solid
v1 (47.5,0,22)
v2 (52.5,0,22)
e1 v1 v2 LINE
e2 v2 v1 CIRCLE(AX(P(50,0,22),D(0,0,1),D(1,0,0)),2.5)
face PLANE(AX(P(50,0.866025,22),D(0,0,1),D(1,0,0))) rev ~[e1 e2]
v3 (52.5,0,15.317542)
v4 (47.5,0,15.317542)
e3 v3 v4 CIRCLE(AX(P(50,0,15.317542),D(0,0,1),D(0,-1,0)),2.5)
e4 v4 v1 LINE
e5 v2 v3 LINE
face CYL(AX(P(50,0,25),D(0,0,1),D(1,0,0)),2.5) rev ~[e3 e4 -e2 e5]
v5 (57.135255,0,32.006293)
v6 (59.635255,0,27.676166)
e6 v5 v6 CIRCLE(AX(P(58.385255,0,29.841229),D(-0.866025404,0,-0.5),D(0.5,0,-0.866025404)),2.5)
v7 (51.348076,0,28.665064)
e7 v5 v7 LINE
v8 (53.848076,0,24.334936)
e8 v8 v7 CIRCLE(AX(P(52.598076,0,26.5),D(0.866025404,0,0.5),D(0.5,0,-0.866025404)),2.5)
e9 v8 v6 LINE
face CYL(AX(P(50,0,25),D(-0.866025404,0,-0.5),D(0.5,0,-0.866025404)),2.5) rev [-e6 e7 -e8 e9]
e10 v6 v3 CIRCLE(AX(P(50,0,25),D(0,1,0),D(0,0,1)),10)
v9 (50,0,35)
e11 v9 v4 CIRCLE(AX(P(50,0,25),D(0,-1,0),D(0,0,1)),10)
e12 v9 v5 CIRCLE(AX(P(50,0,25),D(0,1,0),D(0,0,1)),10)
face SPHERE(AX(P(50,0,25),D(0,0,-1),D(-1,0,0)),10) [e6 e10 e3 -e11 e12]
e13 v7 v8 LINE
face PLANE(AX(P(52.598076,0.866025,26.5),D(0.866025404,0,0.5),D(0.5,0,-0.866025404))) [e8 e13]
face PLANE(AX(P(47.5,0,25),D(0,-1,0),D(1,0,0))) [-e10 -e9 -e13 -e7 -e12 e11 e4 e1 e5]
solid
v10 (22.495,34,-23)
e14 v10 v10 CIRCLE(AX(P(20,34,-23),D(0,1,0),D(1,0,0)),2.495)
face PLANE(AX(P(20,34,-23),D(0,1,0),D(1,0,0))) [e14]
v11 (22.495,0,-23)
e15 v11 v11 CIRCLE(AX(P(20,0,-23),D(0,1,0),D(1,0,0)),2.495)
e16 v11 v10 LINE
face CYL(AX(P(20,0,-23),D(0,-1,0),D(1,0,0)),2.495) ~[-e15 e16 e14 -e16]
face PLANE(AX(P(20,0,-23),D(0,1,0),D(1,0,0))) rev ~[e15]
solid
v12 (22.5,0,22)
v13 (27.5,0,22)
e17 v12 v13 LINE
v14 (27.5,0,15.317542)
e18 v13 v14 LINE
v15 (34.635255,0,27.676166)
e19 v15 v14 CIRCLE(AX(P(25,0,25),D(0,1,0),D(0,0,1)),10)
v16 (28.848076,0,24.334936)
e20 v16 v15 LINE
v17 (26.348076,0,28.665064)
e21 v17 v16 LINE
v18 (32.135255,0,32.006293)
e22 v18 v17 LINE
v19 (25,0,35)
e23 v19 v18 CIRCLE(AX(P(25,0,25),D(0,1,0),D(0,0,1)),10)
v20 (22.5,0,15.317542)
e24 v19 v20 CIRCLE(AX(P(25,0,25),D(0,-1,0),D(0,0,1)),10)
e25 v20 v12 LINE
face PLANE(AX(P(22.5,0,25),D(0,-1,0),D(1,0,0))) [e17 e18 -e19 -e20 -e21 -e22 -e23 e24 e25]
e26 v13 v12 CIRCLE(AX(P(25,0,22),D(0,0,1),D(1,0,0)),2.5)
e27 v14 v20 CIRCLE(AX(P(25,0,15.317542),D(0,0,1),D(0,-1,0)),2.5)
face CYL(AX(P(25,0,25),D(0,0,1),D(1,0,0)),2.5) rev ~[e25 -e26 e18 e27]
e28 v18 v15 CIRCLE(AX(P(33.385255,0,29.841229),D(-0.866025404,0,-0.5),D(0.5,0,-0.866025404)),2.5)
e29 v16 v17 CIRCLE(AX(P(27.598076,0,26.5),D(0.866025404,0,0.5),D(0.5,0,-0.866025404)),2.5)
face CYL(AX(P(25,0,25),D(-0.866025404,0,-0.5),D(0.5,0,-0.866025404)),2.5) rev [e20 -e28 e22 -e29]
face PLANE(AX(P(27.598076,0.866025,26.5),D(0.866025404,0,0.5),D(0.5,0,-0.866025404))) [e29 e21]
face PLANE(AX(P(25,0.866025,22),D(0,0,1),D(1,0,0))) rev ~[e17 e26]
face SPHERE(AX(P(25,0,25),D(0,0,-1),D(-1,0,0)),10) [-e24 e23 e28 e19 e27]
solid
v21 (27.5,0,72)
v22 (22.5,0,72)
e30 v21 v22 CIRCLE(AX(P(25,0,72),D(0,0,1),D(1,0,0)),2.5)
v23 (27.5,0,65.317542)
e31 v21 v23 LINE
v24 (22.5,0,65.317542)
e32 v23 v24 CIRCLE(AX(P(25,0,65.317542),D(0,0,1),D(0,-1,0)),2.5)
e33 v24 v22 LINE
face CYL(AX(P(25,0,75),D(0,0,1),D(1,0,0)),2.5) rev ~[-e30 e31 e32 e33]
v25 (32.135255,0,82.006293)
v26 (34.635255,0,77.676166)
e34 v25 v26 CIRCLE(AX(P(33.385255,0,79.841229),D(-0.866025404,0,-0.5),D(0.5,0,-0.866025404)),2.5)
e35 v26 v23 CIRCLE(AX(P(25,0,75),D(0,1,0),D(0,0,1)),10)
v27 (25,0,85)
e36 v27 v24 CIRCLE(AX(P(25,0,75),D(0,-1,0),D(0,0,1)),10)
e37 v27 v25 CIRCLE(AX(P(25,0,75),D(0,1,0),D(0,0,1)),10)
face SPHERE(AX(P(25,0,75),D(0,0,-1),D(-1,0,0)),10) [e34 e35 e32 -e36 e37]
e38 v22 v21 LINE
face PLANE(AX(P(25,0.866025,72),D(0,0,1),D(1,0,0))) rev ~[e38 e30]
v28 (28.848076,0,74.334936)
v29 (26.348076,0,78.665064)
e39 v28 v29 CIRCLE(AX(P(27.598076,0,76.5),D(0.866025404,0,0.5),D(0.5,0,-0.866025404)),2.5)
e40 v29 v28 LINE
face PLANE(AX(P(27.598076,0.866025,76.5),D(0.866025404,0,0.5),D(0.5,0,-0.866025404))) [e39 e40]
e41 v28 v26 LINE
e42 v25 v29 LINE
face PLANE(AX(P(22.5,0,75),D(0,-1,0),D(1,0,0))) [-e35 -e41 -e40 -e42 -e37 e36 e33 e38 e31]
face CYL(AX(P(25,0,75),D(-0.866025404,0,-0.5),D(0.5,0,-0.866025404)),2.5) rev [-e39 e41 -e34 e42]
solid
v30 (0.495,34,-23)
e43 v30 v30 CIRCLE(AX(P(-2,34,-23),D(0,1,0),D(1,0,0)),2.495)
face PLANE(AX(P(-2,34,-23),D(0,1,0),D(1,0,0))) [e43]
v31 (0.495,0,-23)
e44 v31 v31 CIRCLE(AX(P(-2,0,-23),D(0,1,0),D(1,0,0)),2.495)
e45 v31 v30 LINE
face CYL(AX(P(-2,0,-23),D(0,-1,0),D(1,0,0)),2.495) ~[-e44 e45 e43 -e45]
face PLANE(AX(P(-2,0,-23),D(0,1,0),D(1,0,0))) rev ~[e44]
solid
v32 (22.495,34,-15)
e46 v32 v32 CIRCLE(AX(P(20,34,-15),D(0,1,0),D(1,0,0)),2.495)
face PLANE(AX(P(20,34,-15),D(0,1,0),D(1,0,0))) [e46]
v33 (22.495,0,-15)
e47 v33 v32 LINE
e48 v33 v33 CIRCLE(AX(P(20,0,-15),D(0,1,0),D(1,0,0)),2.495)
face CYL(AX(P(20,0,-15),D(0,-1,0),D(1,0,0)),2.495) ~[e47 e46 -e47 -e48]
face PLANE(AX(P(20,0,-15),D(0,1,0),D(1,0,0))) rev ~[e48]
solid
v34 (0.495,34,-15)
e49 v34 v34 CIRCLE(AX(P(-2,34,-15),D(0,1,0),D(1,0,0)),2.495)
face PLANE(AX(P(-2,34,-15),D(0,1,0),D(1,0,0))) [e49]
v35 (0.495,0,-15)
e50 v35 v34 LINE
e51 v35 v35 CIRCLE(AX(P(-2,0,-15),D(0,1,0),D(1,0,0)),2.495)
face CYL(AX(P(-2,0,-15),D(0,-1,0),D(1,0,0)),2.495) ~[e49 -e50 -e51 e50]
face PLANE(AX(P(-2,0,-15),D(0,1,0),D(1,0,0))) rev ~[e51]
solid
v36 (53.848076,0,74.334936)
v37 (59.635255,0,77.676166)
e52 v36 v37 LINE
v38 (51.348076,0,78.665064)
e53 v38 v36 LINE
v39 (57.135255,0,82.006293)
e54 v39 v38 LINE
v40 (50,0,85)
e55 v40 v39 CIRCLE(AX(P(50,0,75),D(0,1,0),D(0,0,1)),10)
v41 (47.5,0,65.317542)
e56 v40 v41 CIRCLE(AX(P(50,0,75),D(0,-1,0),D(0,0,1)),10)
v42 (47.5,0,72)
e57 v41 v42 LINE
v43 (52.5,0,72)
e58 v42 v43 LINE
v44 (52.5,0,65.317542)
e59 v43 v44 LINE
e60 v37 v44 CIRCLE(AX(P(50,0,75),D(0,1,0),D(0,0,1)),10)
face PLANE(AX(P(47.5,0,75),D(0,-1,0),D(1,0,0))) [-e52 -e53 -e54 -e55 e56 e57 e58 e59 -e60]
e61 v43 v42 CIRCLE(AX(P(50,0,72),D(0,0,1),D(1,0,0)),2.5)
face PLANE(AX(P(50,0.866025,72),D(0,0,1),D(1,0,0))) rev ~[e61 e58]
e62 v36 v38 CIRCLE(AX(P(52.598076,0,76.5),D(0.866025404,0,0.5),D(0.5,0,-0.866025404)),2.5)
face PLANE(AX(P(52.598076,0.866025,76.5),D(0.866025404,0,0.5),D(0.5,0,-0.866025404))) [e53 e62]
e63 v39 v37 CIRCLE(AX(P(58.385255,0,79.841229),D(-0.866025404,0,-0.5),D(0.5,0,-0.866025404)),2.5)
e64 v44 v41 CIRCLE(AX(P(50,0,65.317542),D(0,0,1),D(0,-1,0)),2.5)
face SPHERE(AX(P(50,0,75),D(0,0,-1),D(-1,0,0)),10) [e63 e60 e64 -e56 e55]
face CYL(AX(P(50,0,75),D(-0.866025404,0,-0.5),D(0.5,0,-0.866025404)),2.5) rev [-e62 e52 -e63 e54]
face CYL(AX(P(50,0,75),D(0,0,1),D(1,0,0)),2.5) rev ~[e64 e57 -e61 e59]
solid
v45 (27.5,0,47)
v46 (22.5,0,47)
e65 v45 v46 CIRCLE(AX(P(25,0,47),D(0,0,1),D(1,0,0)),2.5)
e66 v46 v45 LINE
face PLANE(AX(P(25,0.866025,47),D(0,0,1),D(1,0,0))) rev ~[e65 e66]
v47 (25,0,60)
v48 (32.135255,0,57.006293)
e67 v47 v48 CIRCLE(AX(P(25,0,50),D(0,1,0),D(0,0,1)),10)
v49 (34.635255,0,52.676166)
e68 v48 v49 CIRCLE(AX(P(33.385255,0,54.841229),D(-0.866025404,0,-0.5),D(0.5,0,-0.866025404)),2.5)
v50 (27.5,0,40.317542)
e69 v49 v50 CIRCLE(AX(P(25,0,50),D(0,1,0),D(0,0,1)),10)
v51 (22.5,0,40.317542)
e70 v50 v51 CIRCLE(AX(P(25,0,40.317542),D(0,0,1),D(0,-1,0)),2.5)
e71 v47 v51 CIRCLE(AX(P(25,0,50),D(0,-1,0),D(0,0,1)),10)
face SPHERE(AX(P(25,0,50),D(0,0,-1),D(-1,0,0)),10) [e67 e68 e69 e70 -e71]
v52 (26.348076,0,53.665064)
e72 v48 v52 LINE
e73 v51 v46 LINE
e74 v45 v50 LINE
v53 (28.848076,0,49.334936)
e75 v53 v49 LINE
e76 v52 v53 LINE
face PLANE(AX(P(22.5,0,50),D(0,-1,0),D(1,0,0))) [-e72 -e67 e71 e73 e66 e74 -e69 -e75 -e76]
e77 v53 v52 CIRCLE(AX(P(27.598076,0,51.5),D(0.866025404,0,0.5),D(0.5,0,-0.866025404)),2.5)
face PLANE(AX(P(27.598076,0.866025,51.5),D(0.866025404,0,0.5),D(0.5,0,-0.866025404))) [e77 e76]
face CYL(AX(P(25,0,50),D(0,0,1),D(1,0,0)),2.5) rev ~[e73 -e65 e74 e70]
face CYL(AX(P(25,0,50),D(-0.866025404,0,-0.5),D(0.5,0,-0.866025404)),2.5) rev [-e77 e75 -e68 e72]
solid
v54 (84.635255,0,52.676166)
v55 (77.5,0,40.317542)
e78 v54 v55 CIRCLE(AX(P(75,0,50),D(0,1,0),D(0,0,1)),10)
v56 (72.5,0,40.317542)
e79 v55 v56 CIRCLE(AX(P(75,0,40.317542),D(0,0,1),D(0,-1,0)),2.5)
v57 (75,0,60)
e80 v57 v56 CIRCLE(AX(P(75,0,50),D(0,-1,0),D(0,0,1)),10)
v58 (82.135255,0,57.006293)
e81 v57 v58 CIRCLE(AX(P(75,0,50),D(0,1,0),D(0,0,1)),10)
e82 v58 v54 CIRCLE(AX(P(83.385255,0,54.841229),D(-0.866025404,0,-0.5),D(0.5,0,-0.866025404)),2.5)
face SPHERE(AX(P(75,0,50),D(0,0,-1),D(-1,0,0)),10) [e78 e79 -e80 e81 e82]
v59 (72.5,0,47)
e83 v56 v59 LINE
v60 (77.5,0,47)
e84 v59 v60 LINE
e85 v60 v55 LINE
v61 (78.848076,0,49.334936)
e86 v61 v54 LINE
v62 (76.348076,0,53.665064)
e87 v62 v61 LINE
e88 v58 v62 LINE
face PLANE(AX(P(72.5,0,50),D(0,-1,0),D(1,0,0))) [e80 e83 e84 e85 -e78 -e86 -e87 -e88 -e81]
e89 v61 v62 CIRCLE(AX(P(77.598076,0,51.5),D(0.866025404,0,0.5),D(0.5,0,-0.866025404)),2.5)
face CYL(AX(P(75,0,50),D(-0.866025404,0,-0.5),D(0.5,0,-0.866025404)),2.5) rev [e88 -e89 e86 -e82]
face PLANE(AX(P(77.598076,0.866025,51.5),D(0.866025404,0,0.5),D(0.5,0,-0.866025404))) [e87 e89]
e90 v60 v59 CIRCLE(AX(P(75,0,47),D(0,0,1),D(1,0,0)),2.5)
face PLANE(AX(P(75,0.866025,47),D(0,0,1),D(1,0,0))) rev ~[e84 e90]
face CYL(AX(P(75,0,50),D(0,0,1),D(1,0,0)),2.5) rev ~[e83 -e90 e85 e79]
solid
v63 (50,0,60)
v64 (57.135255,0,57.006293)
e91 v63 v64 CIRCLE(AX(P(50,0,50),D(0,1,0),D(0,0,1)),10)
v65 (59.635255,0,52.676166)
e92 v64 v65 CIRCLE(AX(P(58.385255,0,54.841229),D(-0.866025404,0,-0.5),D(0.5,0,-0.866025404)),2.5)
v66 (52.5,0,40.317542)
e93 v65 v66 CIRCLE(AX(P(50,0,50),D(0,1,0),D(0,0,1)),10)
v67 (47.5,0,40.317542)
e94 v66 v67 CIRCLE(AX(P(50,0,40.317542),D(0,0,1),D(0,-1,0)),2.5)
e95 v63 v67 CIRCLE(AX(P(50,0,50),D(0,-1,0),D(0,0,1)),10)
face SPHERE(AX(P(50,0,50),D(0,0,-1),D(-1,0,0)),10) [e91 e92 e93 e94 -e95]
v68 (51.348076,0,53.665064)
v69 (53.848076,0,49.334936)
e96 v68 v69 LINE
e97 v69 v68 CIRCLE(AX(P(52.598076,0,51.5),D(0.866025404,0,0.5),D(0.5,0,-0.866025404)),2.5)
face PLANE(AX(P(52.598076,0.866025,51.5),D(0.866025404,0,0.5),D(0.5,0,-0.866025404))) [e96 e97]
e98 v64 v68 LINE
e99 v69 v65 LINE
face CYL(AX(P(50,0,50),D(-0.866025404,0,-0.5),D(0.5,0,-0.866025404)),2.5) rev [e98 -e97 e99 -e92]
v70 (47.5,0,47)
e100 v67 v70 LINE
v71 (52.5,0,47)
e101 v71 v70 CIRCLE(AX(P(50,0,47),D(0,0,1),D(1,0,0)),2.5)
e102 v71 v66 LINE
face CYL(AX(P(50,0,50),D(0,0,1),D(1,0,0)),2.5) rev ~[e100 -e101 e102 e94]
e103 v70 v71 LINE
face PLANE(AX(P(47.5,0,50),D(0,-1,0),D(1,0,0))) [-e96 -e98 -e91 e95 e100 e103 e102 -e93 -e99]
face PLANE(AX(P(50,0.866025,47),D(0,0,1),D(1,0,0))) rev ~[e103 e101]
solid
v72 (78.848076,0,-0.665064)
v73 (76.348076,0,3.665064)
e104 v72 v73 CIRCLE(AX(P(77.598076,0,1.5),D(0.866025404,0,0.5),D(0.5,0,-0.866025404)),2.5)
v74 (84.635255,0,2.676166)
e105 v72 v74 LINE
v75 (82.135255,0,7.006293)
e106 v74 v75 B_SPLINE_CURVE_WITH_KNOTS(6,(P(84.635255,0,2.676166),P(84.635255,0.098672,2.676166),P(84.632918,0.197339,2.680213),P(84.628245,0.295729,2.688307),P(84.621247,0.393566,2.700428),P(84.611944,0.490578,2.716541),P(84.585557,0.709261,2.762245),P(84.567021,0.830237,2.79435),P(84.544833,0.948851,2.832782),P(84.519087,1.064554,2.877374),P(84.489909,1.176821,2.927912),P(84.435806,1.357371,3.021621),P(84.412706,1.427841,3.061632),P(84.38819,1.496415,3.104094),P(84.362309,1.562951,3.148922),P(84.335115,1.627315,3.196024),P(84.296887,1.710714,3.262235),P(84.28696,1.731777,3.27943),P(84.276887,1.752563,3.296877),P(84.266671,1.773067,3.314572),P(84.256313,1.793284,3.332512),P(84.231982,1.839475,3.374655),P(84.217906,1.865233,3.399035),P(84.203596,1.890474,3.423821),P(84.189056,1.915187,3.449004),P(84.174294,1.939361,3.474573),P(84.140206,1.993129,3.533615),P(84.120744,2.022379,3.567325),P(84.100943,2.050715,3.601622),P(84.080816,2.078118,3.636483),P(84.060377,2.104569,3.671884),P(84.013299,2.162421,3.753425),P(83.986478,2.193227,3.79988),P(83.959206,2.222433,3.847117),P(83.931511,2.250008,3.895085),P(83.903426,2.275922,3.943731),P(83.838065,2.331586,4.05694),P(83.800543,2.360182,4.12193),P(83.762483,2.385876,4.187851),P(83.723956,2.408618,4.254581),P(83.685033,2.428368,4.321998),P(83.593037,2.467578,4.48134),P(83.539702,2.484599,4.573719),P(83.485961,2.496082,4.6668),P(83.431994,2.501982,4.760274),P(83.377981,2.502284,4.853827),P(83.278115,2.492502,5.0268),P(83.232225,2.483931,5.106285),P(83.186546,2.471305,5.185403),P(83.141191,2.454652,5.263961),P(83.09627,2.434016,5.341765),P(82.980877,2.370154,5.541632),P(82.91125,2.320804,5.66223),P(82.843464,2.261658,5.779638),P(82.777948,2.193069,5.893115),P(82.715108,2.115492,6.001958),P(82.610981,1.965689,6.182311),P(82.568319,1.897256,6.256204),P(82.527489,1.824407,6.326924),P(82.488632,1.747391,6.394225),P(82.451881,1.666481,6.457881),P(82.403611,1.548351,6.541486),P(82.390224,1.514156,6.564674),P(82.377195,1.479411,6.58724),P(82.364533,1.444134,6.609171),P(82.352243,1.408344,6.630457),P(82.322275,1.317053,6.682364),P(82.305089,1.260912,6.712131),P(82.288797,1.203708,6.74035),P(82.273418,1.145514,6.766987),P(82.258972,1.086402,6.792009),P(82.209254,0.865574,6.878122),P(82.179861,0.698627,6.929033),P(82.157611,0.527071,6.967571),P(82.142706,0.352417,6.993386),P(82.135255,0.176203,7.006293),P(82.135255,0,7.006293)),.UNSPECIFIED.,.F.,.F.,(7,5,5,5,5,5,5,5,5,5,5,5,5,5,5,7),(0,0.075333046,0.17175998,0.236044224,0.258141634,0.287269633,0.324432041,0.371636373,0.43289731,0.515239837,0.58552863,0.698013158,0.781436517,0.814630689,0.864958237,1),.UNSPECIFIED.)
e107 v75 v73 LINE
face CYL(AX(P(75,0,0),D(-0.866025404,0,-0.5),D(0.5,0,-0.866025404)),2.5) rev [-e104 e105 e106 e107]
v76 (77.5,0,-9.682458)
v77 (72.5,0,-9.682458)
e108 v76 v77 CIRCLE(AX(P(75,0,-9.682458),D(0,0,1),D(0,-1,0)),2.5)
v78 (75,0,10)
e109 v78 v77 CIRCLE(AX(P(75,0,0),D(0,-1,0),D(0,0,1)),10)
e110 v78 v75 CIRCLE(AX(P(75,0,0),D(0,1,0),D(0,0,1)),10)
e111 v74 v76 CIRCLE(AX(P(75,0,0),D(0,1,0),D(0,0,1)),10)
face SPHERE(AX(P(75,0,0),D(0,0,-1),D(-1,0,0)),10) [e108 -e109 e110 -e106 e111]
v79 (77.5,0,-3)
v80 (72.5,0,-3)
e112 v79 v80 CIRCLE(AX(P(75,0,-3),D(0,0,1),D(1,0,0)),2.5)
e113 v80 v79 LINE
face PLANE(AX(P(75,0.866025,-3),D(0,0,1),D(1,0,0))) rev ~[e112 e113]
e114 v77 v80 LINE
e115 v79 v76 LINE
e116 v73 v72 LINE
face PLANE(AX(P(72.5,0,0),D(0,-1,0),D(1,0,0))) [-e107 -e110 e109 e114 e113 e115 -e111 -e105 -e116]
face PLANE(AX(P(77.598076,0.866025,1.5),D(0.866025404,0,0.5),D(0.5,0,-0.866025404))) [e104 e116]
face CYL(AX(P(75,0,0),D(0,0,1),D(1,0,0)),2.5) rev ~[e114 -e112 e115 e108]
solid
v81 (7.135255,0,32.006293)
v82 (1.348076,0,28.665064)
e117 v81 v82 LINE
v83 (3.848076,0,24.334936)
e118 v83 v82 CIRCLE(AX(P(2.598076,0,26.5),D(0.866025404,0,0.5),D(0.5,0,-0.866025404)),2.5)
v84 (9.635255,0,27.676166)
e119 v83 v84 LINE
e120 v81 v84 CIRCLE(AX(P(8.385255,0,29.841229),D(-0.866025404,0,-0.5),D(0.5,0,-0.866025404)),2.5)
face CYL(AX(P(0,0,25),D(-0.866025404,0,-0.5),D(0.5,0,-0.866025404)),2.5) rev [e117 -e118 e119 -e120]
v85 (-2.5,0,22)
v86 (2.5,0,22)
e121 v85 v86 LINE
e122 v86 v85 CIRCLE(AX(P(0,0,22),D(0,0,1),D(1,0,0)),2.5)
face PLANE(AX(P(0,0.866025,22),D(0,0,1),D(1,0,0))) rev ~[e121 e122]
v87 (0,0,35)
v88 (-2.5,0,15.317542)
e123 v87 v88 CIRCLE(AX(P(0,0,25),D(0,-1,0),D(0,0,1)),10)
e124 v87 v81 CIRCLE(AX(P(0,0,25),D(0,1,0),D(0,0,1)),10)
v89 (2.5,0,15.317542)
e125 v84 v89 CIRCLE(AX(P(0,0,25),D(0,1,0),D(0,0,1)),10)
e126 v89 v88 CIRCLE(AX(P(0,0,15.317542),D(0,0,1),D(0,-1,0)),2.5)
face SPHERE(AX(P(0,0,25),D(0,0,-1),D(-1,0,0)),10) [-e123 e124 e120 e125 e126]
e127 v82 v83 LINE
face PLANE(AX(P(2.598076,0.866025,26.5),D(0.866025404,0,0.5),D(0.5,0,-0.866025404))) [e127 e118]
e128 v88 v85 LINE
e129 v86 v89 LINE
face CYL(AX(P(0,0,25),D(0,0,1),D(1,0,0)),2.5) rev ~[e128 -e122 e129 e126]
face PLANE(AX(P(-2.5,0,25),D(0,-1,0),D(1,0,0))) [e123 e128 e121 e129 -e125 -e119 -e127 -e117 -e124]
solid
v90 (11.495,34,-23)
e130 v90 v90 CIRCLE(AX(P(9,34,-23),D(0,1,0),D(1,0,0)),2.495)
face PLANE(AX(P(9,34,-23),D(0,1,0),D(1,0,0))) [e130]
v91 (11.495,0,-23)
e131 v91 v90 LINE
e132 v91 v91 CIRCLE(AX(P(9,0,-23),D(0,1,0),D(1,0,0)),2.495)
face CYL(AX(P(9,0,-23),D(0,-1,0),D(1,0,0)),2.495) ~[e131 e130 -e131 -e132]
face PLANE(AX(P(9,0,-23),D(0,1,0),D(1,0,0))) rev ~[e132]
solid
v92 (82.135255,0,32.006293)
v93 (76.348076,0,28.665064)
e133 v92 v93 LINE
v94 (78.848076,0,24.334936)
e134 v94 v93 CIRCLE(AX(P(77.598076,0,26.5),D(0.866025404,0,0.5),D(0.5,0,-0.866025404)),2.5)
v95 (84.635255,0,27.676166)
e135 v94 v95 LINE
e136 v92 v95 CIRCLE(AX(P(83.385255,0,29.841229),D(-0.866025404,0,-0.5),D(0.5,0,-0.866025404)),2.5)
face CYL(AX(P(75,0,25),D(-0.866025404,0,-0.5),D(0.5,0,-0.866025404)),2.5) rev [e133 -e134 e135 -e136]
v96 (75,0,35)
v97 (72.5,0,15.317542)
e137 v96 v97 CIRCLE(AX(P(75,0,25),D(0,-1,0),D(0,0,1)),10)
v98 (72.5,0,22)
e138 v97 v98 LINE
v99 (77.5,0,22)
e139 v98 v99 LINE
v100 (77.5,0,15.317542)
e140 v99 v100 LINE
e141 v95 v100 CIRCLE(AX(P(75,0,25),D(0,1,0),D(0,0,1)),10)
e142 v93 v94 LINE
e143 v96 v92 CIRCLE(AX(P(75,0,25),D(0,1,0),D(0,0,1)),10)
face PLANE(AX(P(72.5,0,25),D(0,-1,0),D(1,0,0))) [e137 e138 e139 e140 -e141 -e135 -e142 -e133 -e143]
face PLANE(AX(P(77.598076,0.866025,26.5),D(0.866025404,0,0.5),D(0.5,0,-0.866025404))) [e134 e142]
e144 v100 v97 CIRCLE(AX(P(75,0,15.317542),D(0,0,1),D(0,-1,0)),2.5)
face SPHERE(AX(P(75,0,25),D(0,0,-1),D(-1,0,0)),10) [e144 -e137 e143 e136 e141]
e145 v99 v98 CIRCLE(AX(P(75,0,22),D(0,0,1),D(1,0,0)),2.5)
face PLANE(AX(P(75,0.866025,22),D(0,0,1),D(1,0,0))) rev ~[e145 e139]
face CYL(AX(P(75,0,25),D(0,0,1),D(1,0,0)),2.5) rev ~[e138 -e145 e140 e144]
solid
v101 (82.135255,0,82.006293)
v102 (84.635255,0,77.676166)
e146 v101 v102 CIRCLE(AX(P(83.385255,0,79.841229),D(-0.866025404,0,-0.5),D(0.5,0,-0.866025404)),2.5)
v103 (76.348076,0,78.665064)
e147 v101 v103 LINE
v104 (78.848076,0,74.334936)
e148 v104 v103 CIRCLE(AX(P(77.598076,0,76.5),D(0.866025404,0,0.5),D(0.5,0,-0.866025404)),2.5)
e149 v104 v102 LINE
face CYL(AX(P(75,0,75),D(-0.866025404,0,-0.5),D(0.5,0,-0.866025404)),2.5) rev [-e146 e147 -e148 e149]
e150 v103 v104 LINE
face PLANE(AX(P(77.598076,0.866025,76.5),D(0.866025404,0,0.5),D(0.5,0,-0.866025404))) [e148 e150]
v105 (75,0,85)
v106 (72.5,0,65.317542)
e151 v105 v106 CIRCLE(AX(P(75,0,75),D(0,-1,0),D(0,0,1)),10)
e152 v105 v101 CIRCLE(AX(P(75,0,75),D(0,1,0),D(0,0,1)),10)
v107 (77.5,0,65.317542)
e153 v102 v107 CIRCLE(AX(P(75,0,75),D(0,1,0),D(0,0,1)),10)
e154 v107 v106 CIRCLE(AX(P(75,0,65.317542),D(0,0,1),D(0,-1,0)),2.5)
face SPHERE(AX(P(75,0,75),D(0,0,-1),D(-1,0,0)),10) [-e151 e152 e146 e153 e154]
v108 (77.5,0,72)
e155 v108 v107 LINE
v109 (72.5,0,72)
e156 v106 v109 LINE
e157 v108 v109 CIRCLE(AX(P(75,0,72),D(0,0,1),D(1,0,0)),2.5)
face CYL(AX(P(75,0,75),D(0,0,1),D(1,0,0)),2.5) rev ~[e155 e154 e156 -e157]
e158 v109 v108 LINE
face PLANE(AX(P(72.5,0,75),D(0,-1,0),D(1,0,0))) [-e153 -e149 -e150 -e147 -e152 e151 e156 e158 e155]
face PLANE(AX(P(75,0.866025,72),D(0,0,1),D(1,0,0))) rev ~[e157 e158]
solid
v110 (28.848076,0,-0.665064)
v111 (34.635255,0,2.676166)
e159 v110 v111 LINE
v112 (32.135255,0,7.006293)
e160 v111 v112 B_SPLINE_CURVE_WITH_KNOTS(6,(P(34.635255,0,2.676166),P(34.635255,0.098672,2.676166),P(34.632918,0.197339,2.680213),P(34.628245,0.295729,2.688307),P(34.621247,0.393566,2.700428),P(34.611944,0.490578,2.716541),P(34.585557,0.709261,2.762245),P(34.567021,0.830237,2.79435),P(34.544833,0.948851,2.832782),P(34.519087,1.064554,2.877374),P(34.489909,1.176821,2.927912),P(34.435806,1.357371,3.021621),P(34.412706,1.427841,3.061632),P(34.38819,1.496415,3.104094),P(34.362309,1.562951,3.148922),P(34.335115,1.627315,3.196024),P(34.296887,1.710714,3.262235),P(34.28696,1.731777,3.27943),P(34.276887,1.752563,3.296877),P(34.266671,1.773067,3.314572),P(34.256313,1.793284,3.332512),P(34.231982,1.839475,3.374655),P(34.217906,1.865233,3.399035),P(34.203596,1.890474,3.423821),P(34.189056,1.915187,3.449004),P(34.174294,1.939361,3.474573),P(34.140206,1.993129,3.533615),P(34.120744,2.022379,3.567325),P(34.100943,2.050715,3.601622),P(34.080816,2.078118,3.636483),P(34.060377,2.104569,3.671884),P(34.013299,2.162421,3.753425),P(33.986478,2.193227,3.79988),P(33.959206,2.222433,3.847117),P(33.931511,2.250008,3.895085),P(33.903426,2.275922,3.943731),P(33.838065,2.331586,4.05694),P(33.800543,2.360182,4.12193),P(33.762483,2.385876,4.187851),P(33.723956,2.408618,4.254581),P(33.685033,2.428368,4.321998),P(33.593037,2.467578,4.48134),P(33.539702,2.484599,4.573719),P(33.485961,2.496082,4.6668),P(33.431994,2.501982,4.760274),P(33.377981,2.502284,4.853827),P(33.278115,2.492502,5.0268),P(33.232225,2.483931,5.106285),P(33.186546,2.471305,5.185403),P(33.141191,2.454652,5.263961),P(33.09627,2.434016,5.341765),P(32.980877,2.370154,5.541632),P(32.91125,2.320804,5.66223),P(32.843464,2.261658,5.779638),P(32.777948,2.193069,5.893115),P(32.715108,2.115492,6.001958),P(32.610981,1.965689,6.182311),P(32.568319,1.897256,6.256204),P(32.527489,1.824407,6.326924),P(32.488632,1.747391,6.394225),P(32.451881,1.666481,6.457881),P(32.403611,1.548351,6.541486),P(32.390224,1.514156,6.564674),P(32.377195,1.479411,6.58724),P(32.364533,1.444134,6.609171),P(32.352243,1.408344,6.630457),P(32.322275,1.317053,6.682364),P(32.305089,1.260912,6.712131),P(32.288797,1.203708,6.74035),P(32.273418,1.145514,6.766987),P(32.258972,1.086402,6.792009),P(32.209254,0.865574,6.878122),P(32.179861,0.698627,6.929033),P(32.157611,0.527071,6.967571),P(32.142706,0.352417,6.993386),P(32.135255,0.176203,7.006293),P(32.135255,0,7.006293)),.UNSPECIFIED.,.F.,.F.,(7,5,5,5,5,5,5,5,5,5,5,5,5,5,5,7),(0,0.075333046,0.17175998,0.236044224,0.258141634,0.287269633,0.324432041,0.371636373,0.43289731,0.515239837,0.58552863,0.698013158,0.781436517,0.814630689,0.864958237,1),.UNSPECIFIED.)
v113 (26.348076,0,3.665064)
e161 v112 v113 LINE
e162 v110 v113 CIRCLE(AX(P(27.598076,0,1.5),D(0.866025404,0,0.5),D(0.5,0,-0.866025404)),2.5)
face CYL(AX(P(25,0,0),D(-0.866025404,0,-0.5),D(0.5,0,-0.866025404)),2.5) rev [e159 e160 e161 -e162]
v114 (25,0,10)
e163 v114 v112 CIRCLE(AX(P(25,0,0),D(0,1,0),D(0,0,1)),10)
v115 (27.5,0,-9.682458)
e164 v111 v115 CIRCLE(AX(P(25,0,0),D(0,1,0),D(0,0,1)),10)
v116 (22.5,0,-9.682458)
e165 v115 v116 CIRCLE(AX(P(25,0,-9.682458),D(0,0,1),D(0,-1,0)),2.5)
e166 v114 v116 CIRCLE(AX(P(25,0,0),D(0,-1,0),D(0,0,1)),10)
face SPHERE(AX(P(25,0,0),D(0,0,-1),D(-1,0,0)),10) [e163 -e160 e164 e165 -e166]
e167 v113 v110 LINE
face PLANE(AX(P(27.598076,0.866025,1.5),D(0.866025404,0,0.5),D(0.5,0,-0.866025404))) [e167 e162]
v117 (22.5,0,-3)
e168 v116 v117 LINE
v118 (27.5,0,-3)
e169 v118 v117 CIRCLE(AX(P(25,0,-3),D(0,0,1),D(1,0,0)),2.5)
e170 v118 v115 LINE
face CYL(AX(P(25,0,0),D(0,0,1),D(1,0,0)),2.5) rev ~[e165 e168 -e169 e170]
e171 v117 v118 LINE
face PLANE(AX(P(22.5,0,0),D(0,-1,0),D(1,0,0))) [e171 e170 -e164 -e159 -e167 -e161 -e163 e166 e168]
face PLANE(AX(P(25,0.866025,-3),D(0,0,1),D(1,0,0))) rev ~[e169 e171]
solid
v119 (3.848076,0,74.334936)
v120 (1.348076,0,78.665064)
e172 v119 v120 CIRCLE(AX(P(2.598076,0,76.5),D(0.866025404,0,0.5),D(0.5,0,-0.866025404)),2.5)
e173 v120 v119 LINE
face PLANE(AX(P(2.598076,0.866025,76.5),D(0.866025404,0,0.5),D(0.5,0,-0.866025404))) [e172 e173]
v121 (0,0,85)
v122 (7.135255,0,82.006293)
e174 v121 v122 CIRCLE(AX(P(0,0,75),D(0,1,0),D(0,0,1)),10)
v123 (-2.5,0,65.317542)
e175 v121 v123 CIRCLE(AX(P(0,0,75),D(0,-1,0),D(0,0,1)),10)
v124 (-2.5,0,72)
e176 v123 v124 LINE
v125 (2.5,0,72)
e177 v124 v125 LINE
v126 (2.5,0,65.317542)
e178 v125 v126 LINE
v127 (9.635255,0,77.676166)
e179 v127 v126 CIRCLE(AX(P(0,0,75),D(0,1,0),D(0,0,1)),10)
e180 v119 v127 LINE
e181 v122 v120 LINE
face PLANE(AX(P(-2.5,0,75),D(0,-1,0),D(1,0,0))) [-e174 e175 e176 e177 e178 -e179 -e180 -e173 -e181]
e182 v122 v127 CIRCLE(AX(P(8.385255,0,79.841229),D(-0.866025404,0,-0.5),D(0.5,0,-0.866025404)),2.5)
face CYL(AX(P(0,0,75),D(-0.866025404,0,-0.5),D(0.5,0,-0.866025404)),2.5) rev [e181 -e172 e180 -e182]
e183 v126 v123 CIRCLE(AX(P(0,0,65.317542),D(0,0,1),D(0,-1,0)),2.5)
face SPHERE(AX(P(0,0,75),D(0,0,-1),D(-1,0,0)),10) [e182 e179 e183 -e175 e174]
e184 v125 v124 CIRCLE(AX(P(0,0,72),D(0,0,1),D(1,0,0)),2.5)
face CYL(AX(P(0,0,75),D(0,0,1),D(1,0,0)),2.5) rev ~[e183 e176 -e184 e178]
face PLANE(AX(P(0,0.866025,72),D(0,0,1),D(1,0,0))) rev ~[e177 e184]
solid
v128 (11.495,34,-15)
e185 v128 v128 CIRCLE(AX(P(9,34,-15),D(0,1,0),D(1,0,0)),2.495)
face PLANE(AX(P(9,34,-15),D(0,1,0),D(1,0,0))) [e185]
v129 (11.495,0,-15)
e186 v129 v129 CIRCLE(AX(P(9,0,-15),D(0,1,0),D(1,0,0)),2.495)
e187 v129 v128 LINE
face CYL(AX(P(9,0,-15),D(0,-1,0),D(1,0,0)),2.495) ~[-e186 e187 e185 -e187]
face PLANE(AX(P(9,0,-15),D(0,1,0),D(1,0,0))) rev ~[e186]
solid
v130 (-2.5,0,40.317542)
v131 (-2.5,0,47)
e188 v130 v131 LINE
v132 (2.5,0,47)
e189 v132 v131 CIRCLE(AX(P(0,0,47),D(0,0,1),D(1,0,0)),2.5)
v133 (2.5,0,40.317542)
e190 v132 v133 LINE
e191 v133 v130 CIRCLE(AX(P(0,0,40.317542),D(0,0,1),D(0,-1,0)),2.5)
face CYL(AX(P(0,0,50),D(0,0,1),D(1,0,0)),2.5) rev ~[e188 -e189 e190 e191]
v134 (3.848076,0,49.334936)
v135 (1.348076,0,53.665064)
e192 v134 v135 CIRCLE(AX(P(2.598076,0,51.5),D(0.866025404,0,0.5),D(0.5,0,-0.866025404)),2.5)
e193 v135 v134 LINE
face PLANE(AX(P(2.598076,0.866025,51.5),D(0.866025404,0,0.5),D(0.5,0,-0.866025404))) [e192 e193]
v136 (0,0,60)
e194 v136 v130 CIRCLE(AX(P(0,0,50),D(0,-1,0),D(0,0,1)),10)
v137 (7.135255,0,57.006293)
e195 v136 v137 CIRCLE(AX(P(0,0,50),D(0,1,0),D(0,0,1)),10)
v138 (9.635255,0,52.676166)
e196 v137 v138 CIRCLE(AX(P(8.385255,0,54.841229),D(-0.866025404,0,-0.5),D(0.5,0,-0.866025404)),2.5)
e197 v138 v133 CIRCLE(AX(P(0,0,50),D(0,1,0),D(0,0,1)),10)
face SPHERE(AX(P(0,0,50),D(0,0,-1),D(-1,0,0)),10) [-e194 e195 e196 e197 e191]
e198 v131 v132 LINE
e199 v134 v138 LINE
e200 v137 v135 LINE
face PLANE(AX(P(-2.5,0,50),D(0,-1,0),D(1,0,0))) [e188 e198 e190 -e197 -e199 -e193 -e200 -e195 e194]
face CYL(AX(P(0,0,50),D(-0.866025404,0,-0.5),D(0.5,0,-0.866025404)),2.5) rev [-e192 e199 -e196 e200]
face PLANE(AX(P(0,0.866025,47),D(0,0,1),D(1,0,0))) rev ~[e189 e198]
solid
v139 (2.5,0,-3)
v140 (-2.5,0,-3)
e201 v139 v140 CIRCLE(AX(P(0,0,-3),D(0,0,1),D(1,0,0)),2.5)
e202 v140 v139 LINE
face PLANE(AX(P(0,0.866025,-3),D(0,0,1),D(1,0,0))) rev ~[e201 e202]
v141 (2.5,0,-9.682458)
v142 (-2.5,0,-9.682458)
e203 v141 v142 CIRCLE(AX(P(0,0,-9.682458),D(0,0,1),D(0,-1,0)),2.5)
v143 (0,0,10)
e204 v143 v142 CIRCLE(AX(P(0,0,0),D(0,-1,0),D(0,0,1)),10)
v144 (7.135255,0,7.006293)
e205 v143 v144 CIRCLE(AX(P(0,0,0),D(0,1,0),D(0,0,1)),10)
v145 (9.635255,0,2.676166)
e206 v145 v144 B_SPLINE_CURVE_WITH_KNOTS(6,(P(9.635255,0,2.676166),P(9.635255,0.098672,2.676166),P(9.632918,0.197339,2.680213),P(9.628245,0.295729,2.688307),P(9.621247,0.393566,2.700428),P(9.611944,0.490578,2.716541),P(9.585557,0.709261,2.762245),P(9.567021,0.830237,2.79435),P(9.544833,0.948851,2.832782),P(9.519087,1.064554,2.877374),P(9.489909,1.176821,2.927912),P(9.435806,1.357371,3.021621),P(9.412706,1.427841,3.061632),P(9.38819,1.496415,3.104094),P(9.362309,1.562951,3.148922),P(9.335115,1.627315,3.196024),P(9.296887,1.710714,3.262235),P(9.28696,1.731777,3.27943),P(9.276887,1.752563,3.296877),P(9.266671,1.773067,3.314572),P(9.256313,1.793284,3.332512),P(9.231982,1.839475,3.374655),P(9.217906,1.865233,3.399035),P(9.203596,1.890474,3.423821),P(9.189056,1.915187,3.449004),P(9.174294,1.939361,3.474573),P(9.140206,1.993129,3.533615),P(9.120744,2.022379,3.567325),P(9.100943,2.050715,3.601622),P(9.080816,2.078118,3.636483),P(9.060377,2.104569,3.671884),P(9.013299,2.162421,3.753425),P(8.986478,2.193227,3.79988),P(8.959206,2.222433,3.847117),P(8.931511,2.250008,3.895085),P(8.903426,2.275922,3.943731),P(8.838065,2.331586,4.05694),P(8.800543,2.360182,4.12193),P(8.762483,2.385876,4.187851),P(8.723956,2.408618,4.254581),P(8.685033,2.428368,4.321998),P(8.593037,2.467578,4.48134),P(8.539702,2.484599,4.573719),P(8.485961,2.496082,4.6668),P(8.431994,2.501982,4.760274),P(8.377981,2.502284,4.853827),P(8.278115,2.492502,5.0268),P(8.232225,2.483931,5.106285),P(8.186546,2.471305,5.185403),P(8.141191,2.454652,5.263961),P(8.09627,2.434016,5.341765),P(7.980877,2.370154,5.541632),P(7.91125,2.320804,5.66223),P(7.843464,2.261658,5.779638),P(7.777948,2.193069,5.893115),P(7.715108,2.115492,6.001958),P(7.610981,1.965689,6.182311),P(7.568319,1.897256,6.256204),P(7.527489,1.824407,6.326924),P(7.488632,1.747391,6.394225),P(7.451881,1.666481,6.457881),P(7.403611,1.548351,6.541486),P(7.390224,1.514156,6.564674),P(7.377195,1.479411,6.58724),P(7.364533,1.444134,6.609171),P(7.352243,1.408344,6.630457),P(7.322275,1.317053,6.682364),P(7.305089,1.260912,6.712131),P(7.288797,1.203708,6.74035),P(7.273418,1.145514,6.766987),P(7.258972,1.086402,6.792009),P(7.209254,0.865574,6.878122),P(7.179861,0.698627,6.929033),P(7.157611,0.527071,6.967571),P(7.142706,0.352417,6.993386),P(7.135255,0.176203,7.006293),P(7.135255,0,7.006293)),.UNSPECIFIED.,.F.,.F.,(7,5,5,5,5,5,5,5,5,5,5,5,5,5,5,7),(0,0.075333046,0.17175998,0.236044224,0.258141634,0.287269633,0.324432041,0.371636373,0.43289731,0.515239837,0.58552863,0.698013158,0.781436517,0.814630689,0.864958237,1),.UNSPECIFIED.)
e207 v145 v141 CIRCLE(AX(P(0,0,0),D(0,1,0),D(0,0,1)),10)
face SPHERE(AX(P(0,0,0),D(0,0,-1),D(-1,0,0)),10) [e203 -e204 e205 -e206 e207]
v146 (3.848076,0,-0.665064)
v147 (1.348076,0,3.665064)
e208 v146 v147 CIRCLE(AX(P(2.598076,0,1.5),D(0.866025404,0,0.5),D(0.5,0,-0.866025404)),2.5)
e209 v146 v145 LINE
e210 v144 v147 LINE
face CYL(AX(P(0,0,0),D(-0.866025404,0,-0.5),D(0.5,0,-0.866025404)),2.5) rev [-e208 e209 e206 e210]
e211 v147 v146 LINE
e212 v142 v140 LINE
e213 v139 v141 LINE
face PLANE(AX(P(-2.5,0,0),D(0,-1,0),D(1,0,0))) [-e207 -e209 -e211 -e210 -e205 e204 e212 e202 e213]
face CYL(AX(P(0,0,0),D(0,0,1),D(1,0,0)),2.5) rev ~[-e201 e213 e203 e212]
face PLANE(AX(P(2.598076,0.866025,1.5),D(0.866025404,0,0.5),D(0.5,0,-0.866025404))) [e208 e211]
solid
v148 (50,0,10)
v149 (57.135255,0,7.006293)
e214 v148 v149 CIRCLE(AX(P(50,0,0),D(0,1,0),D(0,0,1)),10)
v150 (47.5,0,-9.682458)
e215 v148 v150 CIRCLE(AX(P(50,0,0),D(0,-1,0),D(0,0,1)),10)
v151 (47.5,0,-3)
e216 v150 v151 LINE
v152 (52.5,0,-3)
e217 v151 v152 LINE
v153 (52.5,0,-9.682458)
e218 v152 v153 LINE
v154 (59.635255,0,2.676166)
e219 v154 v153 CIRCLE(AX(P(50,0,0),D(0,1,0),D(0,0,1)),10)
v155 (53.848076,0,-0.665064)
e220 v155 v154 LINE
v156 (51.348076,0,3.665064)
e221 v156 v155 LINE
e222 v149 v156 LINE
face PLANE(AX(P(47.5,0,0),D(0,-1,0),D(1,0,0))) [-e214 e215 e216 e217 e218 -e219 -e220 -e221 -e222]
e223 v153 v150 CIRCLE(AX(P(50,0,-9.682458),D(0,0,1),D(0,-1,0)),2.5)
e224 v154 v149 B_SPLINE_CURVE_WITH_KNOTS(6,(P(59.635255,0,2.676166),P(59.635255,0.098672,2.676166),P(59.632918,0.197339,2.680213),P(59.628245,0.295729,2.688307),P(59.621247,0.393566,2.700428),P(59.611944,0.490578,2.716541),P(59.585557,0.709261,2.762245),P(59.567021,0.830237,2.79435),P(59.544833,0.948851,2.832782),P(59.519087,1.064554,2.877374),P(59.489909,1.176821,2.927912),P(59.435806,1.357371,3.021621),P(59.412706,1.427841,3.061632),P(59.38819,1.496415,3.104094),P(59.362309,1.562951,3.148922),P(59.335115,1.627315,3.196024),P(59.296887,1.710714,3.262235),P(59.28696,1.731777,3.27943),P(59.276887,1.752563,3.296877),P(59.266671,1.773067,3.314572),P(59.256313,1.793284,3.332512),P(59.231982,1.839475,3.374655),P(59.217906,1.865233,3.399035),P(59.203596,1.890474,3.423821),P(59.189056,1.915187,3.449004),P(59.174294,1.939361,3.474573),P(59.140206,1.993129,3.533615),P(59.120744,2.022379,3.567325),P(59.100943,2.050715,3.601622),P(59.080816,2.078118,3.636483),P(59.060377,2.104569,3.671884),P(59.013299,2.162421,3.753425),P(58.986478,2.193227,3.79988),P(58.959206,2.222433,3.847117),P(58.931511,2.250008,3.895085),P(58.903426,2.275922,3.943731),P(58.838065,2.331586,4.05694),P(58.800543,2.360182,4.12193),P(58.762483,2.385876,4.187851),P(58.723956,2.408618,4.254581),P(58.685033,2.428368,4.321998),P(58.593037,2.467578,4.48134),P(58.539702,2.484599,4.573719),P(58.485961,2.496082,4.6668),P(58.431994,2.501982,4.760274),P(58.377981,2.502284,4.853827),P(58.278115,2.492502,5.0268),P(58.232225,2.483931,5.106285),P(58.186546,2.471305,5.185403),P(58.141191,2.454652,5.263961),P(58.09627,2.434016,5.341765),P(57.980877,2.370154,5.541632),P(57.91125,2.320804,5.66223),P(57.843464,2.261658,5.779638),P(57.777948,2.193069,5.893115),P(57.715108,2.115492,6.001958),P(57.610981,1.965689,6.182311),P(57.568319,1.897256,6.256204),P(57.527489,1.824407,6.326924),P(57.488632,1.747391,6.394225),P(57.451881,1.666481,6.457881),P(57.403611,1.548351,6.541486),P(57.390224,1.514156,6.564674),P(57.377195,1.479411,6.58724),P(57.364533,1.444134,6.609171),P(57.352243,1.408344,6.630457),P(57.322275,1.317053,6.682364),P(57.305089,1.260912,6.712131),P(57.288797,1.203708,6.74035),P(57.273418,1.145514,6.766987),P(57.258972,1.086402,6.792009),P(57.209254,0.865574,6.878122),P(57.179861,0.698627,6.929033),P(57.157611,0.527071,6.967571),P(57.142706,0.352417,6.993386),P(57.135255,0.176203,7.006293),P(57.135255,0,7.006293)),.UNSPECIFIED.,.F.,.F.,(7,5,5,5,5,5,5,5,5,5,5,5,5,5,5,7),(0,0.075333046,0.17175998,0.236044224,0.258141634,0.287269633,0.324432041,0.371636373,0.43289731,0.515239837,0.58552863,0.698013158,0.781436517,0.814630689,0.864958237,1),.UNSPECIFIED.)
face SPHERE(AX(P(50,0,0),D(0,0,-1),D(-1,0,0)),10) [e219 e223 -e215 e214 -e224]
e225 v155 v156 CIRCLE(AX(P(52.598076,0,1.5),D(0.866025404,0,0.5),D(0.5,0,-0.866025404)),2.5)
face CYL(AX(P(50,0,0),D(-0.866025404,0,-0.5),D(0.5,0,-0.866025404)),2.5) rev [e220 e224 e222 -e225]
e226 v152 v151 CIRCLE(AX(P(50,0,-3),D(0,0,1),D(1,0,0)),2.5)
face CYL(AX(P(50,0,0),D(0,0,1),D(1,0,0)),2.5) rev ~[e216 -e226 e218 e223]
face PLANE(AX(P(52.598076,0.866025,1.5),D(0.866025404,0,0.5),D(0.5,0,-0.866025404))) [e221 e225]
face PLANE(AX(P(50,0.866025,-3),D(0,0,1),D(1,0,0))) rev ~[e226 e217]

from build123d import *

# Parameters (mm, degrees)
REVOLVE1_ANGLE          = 180
SKETCH4_R               = 2.5
CUT_EXTRUDE2_DEPTH      = 11
SKETCH6_R               = 2.5
CUT_EXTRUDE3_DEPTH      = 11
BOSS_EXTRUDE3_DEPTH     = 3
BOSS_EXTRUDE4_DEPTH     = 3
SKETCH12_R              = 2.495
BOSS_EXTRUDE5_DEPTH     = 34
BOSS_EXTRUDE5_2_DEPTH   = 34
BOSS_EXTRUDE5_3_DEPTH   = 34
BOSS_EXTRUDE5_4_DEPTH   = 34
BOSS_EXTRUDE5_5_DEPTH   = 34
BOSS_EXTRUDE5_6_DEPTH   = 34
LPATTERN18_COUNT        = 4
LPATTERN18_PITCH        = 25
LPATTERN18_COUNT_DIR2   = 4
LPATTERN18_PITCH_DIR2   = 25
LPATTERN18_2_COUNT      = 4
LPATTERN18_2_PITCH      = 25
LPATTERN18_2_COUNT_DIR2 = 4
LPATTERN18_2_PITCH_DIR2 = 25
LPATTERN18_3_COUNT      = 4
LPATTERN18_3_PITCH      = 25
LPATTERN18_3_COUNT_DIR2 = 4
LPATTERN18_3_PITCH_DIR2 = 25


with BuildPart() as part:
    # Sketch1 → Revolve1 (revolve)
    with BuildSketch(Plane(origin=(0, 0, 0), x_dir=(1, 0, 0), z_dir=(0, 1, 0))):
        with BuildLine():
            Line((0, 10), (0, -10))
            ThreePointArc((0, -10), (-10, 0), (0, 10))
        make_face()
    revolve1 = revolve(axis=Axis((0, 0, -10), (0, 0, -1)), revolution_arc=REVOLVE1_ANGLE)

    # Sketch4 → Cut-Extrude2 (cut)
    with BuildSketch(Plane.XY):
        Circle(SKETCH4_R)
    cut_extrude2 = extrude(amount=-CUT_EXTRUDE2_DEPTH, mode=Mode.SUBTRACT)

    # Sketch6 → Cut-Extrude3 (cut)
    with BuildSketch(Plane(origin=(0, 0, 0), x_dir=(0.5, 0, -0.866025404), z_dir=(0.866025404, 0, 0.5))):
        Circle(SKETCH6_R)
    cut_extrude3 = extrude(amount=CUT_EXTRUDE3_DEPTH, mode=Mode.SUBTRACT)

    # Sketch10 → Boss-Extrude3 (add)
    with BuildSketch(Plane(origin=(0, 0, 0), x_dir=(0.5, 0, -0.866025404), z_dir=(0.866025404, 0, 0.5))):
        with BuildLine():
            Line((-2.5, 0), (2.5, 0))
            ThreePointArc((2.5, 0), (0, 2.5), (-2.5, 0))
        make_face()
    boss_extrude3 = extrude(amount=BOSS_EXTRUDE3_DEPTH)

    # Sketch11 → Boss-Extrude4 (add)
    with BuildSketch(Plane.XY):
        with BuildLine():
            Line((-2.5, 0), (2.5, 0))
            ThreePointArc((2.5, 0), (0, 2.5), (-2.5, 0))
        make_face()
    boss_extrude4 = extrude(amount=-BOSS_EXTRUDE4_DEPTH)


with BuildPart() as body_2:
    # Sketch12 → Boss-Extrude5 (new body)
    with BuildSketch(Plane(origin=(0, 0, 0), x_dir=(1, 0, 0), z_dir=(0, 1, 0))):
        with Locations((-2, 15)):
            Circle(SKETCH12_R)
    extrude(amount=BOSS_EXTRUDE5_DEPTH)


with BuildPart() as body_3:
    # Sketch12 → Boss-Extrude5 2 (new body)
    with BuildSketch(Plane(origin=(0, 0, 0), x_dir=(1, 0, 0), z_dir=(0, 1, 0))):
        with Locations((-2, 23)):
            Circle(SKETCH12_R)
    extrude(amount=BOSS_EXTRUDE5_2_DEPTH)


with BuildPart() as body_4:
    # Sketch12 → Boss-Extrude5 3 (new body)
    with BuildSketch(Plane(origin=(0, 0, 0), x_dir=(1, 0, 0), z_dir=(0, 1, 0))):
        with Locations((9, 23)):
            Circle(SKETCH12_R)
    extrude(amount=BOSS_EXTRUDE5_3_DEPTH)


with BuildPart() as body_5:
    # Sketch12 → Boss-Extrude5 4 (new body)
    with BuildSketch(Plane(origin=(0, 0, 0), x_dir=(1, 0, 0), z_dir=(0, 1, 0))):
        with Locations((9, 15)):
            Circle(SKETCH12_R)
    extrude(amount=BOSS_EXTRUDE5_4_DEPTH)


with BuildPart() as body_6:
    # Sketch12 → Boss-Extrude5 5 (new body)
    with BuildSketch(Plane(origin=(0, 0, 0), x_dir=(1, 0, 0), z_dir=(0, 1, 0))):
        with Locations((20, 23)):
            Circle(SKETCH12_R)
    extrude(amount=BOSS_EXTRUDE5_5_DEPTH)


with BuildPart() as body_7:
    # Sketch12 → Boss-Extrude5 6 (new body)
    with BuildSketch(Plane(origin=(0, 0, 0), x_dir=(1, 0, 0), z_dir=(0, 1, 0))):
        with Locations((20, 15)):
            Circle(SKETCH12_R)
    extrude(amount=BOSS_EXTRUDE5_6_DEPTH)


with BuildPart() as lpattern18_1:
    # LPattern18: pattern copy
    add(revolve1.moved(Location(Vector(1, 0, 0) * (0 * LPATTERN18_PITCH) + Vector(0, 0, 1) * (1 * LPATTERN18_PITCH_DIR2))))


with BuildPart() as lpattern18_2:
    # LPattern18: pattern copy
    add(revolve1.moved(Location(Vector(1, 0, 0) * (0 * LPATTERN18_PITCH) + Vector(0, 0, 1) * (2 * LPATTERN18_PITCH_DIR2))))


with BuildPart() as lpattern18_3:
    # LPattern18: pattern copy
    add(revolve1.moved(Location(Vector(1, 0, 0) * (0 * LPATTERN18_PITCH) + Vector(0, 0, 1) * (3 * LPATTERN18_PITCH_DIR2))))


with BuildPart() as lpattern18_4:
    # LPattern18: pattern copy
    add(revolve1.moved(Location(Vector(1, 0, 0) * (1 * LPATTERN18_PITCH) + Vector(0, 0, 1) * (0 * LPATTERN18_PITCH_DIR2))))


with BuildPart() as lpattern18_5:
    # LPattern18: pattern copy
    add(revolve1.moved(Location(Vector(1, 0, 0) * (1 * LPATTERN18_PITCH) + Vector(0, 0, 1) * (1 * LPATTERN18_PITCH_DIR2))))


with BuildPart() as lpattern18_6:
    # LPattern18: pattern copy
    add(revolve1.moved(Location(Vector(1, 0, 0) * (1 * LPATTERN18_PITCH) + Vector(0, 0, 1) * (2 * LPATTERN18_PITCH_DIR2))))


with BuildPart() as lpattern18_7:
    # LPattern18: pattern copy
    add(revolve1.moved(Location(Vector(1, 0, 0) * (1 * LPATTERN18_PITCH) + Vector(0, 0, 1) * (3 * LPATTERN18_PITCH_DIR2))))


with BuildPart() as lpattern18_8:
    # LPattern18: pattern copy
    add(revolve1.moved(Location(Vector(1, 0, 0) * (2 * LPATTERN18_PITCH) + Vector(0, 0, 1) * (0 * LPATTERN18_PITCH_DIR2))))


with BuildPart() as lpattern18_9:
    # LPattern18: pattern copy
    add(revolve1.moved(Location(Vector(1, 0, 0) * (2 * LPATTERN18_PITCH) + Vector(0, 0, 1) * (1 * LPATTERN18_PITCH_DIR2))))


with BuildPart() as lpattern18_10:
    # LPattern18: pattern copy
    add(revolve1.moved(Location(Vector(1, 0, 0) * (2 * LPATTERN18_PITCH) + Vector(0, 0, 1) * (2 * LPATTERN18_PITCH_DIR2))))


with BuildPart() as lpattern18_11:
    # LPattern18: pattern copy
    add(revolve1.moved(Location(Vector(1, 0, 0) * (2 * LPATTERN18_PITCH) + Vector(0, 0, 1) * (3 * LPATTERN18_PITCH_DIR2))))


with BuildPart() as lpattern18_12:
    # LPattern18: pattern copy
    add(revolve1.moved(Location(Vector(1, 0, 0) * (3 * LPATTERN18_PITCH) + Vector(0, 0, 1) * (0 * LPATTERN18_PITCH_DIR2))))


with BuildPart() as lpattern18_13:
    # LPattern18: pattern copy
    add(revolve1.moved(Location(Vector(1, 0, 0) * (3 * LPATTERN18_PITCH) + Vector(0, 0, 1) * (1 * LPATTERN18_PITCH_DIR2))))


with BuildPart() as lpattern18_14:
    # LPattern18: pattern copy
    add(revolve1.moved(Location(Vector(1, 0, 0) * (3 * LPATTERN18_PITCH) + Vector(0, 0, 1) * (2 * LPATTERN18_PITCH_DIR2))))


with BuildPart() as lpattern18_15:
    # LPattern18: pattern copy
    add(revolve1.moved(Location(Vector(1, 0, 0) * (3 * LPATTERN18_PITCH) + Vector(0, 0, 1) * (3 * LPATTERN18_PITCH_DIR2))))


with BuildPart() as lpattern18_2_tool:
    # LPattern18 2: Cut-Extrude2, Cut-Extrude3 4 × 4
    with Locations(*[(i * LPATTERN18_2_PITCH, 0, j * LPATTERN18_2_PITCH_DIR2) for i in range(LPATTERN18_2_COUNT) for j in range(LPATTERN18_2_COUNT_DIR2) if (i, j) != (0, 0)]):
        add(cut_extrude2)
        add(cut_extrude3)


with BuildPart() as lpattern18_1_1:
    add(lpattern18_1.part)

    # LPattern18 2: cut by lpattern18_2_tool
    add(lpattern18_2_tool.part, mode=Mode.SUBTRACT)



with BuildPart() as lpattern18_2_1:
    add(lpattern18_2.part)

    # LPattern18 2: cut by lpattern18_2_tool
    add(lpattern18_2_tool.part, mode=Mode.SUBTRACT)


with BuildPart() as lpattern18_3_1:
    add(lpattern18_3.part)

    # LPattern18 2: cut by lpattern18_2_tool
    add(lpattern18_2_tool.part, mode=Mode.SUBTRACT)


with BuildPart() as lpattern18_4_1:
    add(lpattern18_4.part)

    # LPattern18 2: cut by lpattern18_2_tool
    add(lpattern18_2_tool.part, mode=Mode.SUBTRACT)


with BuildPart() as lpattern18_5_1:
    add(lpattern18_5.part)

    # LPattern18 2: cut by lpattern18_2_tool
    add(lpattern18_2_tool.part, mode=Mode.SUBTRACT)


with BuildPart() as lpattern18_6_1:
    add(lpattern18_6.part)

    # LPattern18 2: cut by lpattern18_2_tool
    add(lpattern18_2_tool.part, mode=Mode.SUBTRACT)


with BuildPart() as lpattern18_7_1:
    add(lpattern18_7.part)

    # LPattern18 2: cut by lpattern18_2_tool
    add(lpattern18_2_tool.part, mode=Mode.SUBTRACT)


with BuildPart() as lpattern18_8_1:
    add(lpattern18_8.part)

    # LPattern18 2: cut by lpattern18_2_tool
    add(lpattern18_2_tool.part, mode=Mode.SUBTRACT)


with BuildPart() as lpattern18_9_1:
    add(lpattern18_9.part)

    # LPattern18 2: cut by lpattern18_2_tool
    add(lpattern18_2_tool.part, mode=Mode.SUBTRACT)


with BuildPart() as lpattern18_10_1:
    add(lpattern18_10.part)

    # LPattern18 2: cut by lpattern18_2_tool
    add(lpattern18_2_tool.part, mode=Mode.SUBTRACT)


with BuildPart() as lpattern18_11_1:
    add(lpattern18_11.part)

    # LPattern18 2: cut by lpattern18_2_tool
    add(lpattern18_2_tool.part, mode=Mode.SUBTRACT)


with BuildPart() as lpattern18_12_1:
    add(lpattern18_12.part)

    # LPattern18 2: cut by lpattern18_2_tool
    add(lpattern18_2_tool.part, mode=Mode.SUBTRACT)


with BuildPart() as lpattern18_13_1:
    add(lpattern18_13.part)

    # LPattern18 2: cut by lpattern18_2_tool
    add(lpattern18_2_tool.part, mode=Mode.SUBTRACT)


with BuildPart() as lpattern18_14_1:
    add(lpattern18_14.part)

    # LPattern18 2: cut by lpattern18_2_tool
    add(lpattern18_2_tool.part, mode=Mode.SUBTRACT)


with BuildPart() as lpattern18_15_1:
    add(lpattern18_15.part)

    # LPattern18 2: cut by lpattern18_2_tool
    add(lpattern18_2_tool.part, mode=Mode.SUBTRACT)


with BuildPart() as lpattern18_1_2:
    add(lpattern18_1_1.part)

    add(lpattern18_2_1.part)  # LPattern18 3 merges LPattern18_2

    add(lpattern18_3_1.part)  # LPattern18 3 merges LPattern18_3

    add(lpattern18_4_1.part)  # LPattern18 3 merges LPattern18_4

    add(lpattern18_5_1.part)  # LPattern18 3 merges LPattern18_5

    add(lpattern18_6_1.part)  # LPattern18 3 merges LPattern18_6

    add(lpattern18_7_1.part)  # LPattern18 3 merges LPattern18_7

    add(lpattern18_8_1.part)  # LPattern18 3 merges LPattern18_8

    add(lpattern18_9_1.part)  # LPattern18 3 merges LPattern18_9

    add(lpattern18_10_1.part)  # LPattern18 3 merges LPattern18_10

    add(lpattern18_11_1.part)  # LPattern18 3 merges LPattern18_11

    add(lpattern18_12_1.part)  # LPattern18 3 merges LPattern18_12

    add(lpattern18_13_1.part)  # LPattern18 3 merges LPattern18_13

    add(lpattern18_14_1.part)  # LPattern18 3 merges LPattern18_14

    add(lpattern18_15_1.part)  # LPattern18 3 merges LPattern18_15
    # LPattern18 3: Boss-Extrude3, Boss-Extrude4 4 × 4
    with Locations(*[(i * LPATTERN18_3_PITCH, 0, j * LPATTERN18_3_PITCH_DIR2) for i in range(LPATTERN18_3_COUNT) for j in range(LPATTERN18_3_COUNT_DIR2) if (i, j) != (0, 0)]):
        add(boss_extrude3)
        add(boss_extrude4)


solid = Compound([part.part, body_2.part, body_3.part, body_4.part, body_5.part, body_6.part, body_7.part, lpattern18_1_2.part])
